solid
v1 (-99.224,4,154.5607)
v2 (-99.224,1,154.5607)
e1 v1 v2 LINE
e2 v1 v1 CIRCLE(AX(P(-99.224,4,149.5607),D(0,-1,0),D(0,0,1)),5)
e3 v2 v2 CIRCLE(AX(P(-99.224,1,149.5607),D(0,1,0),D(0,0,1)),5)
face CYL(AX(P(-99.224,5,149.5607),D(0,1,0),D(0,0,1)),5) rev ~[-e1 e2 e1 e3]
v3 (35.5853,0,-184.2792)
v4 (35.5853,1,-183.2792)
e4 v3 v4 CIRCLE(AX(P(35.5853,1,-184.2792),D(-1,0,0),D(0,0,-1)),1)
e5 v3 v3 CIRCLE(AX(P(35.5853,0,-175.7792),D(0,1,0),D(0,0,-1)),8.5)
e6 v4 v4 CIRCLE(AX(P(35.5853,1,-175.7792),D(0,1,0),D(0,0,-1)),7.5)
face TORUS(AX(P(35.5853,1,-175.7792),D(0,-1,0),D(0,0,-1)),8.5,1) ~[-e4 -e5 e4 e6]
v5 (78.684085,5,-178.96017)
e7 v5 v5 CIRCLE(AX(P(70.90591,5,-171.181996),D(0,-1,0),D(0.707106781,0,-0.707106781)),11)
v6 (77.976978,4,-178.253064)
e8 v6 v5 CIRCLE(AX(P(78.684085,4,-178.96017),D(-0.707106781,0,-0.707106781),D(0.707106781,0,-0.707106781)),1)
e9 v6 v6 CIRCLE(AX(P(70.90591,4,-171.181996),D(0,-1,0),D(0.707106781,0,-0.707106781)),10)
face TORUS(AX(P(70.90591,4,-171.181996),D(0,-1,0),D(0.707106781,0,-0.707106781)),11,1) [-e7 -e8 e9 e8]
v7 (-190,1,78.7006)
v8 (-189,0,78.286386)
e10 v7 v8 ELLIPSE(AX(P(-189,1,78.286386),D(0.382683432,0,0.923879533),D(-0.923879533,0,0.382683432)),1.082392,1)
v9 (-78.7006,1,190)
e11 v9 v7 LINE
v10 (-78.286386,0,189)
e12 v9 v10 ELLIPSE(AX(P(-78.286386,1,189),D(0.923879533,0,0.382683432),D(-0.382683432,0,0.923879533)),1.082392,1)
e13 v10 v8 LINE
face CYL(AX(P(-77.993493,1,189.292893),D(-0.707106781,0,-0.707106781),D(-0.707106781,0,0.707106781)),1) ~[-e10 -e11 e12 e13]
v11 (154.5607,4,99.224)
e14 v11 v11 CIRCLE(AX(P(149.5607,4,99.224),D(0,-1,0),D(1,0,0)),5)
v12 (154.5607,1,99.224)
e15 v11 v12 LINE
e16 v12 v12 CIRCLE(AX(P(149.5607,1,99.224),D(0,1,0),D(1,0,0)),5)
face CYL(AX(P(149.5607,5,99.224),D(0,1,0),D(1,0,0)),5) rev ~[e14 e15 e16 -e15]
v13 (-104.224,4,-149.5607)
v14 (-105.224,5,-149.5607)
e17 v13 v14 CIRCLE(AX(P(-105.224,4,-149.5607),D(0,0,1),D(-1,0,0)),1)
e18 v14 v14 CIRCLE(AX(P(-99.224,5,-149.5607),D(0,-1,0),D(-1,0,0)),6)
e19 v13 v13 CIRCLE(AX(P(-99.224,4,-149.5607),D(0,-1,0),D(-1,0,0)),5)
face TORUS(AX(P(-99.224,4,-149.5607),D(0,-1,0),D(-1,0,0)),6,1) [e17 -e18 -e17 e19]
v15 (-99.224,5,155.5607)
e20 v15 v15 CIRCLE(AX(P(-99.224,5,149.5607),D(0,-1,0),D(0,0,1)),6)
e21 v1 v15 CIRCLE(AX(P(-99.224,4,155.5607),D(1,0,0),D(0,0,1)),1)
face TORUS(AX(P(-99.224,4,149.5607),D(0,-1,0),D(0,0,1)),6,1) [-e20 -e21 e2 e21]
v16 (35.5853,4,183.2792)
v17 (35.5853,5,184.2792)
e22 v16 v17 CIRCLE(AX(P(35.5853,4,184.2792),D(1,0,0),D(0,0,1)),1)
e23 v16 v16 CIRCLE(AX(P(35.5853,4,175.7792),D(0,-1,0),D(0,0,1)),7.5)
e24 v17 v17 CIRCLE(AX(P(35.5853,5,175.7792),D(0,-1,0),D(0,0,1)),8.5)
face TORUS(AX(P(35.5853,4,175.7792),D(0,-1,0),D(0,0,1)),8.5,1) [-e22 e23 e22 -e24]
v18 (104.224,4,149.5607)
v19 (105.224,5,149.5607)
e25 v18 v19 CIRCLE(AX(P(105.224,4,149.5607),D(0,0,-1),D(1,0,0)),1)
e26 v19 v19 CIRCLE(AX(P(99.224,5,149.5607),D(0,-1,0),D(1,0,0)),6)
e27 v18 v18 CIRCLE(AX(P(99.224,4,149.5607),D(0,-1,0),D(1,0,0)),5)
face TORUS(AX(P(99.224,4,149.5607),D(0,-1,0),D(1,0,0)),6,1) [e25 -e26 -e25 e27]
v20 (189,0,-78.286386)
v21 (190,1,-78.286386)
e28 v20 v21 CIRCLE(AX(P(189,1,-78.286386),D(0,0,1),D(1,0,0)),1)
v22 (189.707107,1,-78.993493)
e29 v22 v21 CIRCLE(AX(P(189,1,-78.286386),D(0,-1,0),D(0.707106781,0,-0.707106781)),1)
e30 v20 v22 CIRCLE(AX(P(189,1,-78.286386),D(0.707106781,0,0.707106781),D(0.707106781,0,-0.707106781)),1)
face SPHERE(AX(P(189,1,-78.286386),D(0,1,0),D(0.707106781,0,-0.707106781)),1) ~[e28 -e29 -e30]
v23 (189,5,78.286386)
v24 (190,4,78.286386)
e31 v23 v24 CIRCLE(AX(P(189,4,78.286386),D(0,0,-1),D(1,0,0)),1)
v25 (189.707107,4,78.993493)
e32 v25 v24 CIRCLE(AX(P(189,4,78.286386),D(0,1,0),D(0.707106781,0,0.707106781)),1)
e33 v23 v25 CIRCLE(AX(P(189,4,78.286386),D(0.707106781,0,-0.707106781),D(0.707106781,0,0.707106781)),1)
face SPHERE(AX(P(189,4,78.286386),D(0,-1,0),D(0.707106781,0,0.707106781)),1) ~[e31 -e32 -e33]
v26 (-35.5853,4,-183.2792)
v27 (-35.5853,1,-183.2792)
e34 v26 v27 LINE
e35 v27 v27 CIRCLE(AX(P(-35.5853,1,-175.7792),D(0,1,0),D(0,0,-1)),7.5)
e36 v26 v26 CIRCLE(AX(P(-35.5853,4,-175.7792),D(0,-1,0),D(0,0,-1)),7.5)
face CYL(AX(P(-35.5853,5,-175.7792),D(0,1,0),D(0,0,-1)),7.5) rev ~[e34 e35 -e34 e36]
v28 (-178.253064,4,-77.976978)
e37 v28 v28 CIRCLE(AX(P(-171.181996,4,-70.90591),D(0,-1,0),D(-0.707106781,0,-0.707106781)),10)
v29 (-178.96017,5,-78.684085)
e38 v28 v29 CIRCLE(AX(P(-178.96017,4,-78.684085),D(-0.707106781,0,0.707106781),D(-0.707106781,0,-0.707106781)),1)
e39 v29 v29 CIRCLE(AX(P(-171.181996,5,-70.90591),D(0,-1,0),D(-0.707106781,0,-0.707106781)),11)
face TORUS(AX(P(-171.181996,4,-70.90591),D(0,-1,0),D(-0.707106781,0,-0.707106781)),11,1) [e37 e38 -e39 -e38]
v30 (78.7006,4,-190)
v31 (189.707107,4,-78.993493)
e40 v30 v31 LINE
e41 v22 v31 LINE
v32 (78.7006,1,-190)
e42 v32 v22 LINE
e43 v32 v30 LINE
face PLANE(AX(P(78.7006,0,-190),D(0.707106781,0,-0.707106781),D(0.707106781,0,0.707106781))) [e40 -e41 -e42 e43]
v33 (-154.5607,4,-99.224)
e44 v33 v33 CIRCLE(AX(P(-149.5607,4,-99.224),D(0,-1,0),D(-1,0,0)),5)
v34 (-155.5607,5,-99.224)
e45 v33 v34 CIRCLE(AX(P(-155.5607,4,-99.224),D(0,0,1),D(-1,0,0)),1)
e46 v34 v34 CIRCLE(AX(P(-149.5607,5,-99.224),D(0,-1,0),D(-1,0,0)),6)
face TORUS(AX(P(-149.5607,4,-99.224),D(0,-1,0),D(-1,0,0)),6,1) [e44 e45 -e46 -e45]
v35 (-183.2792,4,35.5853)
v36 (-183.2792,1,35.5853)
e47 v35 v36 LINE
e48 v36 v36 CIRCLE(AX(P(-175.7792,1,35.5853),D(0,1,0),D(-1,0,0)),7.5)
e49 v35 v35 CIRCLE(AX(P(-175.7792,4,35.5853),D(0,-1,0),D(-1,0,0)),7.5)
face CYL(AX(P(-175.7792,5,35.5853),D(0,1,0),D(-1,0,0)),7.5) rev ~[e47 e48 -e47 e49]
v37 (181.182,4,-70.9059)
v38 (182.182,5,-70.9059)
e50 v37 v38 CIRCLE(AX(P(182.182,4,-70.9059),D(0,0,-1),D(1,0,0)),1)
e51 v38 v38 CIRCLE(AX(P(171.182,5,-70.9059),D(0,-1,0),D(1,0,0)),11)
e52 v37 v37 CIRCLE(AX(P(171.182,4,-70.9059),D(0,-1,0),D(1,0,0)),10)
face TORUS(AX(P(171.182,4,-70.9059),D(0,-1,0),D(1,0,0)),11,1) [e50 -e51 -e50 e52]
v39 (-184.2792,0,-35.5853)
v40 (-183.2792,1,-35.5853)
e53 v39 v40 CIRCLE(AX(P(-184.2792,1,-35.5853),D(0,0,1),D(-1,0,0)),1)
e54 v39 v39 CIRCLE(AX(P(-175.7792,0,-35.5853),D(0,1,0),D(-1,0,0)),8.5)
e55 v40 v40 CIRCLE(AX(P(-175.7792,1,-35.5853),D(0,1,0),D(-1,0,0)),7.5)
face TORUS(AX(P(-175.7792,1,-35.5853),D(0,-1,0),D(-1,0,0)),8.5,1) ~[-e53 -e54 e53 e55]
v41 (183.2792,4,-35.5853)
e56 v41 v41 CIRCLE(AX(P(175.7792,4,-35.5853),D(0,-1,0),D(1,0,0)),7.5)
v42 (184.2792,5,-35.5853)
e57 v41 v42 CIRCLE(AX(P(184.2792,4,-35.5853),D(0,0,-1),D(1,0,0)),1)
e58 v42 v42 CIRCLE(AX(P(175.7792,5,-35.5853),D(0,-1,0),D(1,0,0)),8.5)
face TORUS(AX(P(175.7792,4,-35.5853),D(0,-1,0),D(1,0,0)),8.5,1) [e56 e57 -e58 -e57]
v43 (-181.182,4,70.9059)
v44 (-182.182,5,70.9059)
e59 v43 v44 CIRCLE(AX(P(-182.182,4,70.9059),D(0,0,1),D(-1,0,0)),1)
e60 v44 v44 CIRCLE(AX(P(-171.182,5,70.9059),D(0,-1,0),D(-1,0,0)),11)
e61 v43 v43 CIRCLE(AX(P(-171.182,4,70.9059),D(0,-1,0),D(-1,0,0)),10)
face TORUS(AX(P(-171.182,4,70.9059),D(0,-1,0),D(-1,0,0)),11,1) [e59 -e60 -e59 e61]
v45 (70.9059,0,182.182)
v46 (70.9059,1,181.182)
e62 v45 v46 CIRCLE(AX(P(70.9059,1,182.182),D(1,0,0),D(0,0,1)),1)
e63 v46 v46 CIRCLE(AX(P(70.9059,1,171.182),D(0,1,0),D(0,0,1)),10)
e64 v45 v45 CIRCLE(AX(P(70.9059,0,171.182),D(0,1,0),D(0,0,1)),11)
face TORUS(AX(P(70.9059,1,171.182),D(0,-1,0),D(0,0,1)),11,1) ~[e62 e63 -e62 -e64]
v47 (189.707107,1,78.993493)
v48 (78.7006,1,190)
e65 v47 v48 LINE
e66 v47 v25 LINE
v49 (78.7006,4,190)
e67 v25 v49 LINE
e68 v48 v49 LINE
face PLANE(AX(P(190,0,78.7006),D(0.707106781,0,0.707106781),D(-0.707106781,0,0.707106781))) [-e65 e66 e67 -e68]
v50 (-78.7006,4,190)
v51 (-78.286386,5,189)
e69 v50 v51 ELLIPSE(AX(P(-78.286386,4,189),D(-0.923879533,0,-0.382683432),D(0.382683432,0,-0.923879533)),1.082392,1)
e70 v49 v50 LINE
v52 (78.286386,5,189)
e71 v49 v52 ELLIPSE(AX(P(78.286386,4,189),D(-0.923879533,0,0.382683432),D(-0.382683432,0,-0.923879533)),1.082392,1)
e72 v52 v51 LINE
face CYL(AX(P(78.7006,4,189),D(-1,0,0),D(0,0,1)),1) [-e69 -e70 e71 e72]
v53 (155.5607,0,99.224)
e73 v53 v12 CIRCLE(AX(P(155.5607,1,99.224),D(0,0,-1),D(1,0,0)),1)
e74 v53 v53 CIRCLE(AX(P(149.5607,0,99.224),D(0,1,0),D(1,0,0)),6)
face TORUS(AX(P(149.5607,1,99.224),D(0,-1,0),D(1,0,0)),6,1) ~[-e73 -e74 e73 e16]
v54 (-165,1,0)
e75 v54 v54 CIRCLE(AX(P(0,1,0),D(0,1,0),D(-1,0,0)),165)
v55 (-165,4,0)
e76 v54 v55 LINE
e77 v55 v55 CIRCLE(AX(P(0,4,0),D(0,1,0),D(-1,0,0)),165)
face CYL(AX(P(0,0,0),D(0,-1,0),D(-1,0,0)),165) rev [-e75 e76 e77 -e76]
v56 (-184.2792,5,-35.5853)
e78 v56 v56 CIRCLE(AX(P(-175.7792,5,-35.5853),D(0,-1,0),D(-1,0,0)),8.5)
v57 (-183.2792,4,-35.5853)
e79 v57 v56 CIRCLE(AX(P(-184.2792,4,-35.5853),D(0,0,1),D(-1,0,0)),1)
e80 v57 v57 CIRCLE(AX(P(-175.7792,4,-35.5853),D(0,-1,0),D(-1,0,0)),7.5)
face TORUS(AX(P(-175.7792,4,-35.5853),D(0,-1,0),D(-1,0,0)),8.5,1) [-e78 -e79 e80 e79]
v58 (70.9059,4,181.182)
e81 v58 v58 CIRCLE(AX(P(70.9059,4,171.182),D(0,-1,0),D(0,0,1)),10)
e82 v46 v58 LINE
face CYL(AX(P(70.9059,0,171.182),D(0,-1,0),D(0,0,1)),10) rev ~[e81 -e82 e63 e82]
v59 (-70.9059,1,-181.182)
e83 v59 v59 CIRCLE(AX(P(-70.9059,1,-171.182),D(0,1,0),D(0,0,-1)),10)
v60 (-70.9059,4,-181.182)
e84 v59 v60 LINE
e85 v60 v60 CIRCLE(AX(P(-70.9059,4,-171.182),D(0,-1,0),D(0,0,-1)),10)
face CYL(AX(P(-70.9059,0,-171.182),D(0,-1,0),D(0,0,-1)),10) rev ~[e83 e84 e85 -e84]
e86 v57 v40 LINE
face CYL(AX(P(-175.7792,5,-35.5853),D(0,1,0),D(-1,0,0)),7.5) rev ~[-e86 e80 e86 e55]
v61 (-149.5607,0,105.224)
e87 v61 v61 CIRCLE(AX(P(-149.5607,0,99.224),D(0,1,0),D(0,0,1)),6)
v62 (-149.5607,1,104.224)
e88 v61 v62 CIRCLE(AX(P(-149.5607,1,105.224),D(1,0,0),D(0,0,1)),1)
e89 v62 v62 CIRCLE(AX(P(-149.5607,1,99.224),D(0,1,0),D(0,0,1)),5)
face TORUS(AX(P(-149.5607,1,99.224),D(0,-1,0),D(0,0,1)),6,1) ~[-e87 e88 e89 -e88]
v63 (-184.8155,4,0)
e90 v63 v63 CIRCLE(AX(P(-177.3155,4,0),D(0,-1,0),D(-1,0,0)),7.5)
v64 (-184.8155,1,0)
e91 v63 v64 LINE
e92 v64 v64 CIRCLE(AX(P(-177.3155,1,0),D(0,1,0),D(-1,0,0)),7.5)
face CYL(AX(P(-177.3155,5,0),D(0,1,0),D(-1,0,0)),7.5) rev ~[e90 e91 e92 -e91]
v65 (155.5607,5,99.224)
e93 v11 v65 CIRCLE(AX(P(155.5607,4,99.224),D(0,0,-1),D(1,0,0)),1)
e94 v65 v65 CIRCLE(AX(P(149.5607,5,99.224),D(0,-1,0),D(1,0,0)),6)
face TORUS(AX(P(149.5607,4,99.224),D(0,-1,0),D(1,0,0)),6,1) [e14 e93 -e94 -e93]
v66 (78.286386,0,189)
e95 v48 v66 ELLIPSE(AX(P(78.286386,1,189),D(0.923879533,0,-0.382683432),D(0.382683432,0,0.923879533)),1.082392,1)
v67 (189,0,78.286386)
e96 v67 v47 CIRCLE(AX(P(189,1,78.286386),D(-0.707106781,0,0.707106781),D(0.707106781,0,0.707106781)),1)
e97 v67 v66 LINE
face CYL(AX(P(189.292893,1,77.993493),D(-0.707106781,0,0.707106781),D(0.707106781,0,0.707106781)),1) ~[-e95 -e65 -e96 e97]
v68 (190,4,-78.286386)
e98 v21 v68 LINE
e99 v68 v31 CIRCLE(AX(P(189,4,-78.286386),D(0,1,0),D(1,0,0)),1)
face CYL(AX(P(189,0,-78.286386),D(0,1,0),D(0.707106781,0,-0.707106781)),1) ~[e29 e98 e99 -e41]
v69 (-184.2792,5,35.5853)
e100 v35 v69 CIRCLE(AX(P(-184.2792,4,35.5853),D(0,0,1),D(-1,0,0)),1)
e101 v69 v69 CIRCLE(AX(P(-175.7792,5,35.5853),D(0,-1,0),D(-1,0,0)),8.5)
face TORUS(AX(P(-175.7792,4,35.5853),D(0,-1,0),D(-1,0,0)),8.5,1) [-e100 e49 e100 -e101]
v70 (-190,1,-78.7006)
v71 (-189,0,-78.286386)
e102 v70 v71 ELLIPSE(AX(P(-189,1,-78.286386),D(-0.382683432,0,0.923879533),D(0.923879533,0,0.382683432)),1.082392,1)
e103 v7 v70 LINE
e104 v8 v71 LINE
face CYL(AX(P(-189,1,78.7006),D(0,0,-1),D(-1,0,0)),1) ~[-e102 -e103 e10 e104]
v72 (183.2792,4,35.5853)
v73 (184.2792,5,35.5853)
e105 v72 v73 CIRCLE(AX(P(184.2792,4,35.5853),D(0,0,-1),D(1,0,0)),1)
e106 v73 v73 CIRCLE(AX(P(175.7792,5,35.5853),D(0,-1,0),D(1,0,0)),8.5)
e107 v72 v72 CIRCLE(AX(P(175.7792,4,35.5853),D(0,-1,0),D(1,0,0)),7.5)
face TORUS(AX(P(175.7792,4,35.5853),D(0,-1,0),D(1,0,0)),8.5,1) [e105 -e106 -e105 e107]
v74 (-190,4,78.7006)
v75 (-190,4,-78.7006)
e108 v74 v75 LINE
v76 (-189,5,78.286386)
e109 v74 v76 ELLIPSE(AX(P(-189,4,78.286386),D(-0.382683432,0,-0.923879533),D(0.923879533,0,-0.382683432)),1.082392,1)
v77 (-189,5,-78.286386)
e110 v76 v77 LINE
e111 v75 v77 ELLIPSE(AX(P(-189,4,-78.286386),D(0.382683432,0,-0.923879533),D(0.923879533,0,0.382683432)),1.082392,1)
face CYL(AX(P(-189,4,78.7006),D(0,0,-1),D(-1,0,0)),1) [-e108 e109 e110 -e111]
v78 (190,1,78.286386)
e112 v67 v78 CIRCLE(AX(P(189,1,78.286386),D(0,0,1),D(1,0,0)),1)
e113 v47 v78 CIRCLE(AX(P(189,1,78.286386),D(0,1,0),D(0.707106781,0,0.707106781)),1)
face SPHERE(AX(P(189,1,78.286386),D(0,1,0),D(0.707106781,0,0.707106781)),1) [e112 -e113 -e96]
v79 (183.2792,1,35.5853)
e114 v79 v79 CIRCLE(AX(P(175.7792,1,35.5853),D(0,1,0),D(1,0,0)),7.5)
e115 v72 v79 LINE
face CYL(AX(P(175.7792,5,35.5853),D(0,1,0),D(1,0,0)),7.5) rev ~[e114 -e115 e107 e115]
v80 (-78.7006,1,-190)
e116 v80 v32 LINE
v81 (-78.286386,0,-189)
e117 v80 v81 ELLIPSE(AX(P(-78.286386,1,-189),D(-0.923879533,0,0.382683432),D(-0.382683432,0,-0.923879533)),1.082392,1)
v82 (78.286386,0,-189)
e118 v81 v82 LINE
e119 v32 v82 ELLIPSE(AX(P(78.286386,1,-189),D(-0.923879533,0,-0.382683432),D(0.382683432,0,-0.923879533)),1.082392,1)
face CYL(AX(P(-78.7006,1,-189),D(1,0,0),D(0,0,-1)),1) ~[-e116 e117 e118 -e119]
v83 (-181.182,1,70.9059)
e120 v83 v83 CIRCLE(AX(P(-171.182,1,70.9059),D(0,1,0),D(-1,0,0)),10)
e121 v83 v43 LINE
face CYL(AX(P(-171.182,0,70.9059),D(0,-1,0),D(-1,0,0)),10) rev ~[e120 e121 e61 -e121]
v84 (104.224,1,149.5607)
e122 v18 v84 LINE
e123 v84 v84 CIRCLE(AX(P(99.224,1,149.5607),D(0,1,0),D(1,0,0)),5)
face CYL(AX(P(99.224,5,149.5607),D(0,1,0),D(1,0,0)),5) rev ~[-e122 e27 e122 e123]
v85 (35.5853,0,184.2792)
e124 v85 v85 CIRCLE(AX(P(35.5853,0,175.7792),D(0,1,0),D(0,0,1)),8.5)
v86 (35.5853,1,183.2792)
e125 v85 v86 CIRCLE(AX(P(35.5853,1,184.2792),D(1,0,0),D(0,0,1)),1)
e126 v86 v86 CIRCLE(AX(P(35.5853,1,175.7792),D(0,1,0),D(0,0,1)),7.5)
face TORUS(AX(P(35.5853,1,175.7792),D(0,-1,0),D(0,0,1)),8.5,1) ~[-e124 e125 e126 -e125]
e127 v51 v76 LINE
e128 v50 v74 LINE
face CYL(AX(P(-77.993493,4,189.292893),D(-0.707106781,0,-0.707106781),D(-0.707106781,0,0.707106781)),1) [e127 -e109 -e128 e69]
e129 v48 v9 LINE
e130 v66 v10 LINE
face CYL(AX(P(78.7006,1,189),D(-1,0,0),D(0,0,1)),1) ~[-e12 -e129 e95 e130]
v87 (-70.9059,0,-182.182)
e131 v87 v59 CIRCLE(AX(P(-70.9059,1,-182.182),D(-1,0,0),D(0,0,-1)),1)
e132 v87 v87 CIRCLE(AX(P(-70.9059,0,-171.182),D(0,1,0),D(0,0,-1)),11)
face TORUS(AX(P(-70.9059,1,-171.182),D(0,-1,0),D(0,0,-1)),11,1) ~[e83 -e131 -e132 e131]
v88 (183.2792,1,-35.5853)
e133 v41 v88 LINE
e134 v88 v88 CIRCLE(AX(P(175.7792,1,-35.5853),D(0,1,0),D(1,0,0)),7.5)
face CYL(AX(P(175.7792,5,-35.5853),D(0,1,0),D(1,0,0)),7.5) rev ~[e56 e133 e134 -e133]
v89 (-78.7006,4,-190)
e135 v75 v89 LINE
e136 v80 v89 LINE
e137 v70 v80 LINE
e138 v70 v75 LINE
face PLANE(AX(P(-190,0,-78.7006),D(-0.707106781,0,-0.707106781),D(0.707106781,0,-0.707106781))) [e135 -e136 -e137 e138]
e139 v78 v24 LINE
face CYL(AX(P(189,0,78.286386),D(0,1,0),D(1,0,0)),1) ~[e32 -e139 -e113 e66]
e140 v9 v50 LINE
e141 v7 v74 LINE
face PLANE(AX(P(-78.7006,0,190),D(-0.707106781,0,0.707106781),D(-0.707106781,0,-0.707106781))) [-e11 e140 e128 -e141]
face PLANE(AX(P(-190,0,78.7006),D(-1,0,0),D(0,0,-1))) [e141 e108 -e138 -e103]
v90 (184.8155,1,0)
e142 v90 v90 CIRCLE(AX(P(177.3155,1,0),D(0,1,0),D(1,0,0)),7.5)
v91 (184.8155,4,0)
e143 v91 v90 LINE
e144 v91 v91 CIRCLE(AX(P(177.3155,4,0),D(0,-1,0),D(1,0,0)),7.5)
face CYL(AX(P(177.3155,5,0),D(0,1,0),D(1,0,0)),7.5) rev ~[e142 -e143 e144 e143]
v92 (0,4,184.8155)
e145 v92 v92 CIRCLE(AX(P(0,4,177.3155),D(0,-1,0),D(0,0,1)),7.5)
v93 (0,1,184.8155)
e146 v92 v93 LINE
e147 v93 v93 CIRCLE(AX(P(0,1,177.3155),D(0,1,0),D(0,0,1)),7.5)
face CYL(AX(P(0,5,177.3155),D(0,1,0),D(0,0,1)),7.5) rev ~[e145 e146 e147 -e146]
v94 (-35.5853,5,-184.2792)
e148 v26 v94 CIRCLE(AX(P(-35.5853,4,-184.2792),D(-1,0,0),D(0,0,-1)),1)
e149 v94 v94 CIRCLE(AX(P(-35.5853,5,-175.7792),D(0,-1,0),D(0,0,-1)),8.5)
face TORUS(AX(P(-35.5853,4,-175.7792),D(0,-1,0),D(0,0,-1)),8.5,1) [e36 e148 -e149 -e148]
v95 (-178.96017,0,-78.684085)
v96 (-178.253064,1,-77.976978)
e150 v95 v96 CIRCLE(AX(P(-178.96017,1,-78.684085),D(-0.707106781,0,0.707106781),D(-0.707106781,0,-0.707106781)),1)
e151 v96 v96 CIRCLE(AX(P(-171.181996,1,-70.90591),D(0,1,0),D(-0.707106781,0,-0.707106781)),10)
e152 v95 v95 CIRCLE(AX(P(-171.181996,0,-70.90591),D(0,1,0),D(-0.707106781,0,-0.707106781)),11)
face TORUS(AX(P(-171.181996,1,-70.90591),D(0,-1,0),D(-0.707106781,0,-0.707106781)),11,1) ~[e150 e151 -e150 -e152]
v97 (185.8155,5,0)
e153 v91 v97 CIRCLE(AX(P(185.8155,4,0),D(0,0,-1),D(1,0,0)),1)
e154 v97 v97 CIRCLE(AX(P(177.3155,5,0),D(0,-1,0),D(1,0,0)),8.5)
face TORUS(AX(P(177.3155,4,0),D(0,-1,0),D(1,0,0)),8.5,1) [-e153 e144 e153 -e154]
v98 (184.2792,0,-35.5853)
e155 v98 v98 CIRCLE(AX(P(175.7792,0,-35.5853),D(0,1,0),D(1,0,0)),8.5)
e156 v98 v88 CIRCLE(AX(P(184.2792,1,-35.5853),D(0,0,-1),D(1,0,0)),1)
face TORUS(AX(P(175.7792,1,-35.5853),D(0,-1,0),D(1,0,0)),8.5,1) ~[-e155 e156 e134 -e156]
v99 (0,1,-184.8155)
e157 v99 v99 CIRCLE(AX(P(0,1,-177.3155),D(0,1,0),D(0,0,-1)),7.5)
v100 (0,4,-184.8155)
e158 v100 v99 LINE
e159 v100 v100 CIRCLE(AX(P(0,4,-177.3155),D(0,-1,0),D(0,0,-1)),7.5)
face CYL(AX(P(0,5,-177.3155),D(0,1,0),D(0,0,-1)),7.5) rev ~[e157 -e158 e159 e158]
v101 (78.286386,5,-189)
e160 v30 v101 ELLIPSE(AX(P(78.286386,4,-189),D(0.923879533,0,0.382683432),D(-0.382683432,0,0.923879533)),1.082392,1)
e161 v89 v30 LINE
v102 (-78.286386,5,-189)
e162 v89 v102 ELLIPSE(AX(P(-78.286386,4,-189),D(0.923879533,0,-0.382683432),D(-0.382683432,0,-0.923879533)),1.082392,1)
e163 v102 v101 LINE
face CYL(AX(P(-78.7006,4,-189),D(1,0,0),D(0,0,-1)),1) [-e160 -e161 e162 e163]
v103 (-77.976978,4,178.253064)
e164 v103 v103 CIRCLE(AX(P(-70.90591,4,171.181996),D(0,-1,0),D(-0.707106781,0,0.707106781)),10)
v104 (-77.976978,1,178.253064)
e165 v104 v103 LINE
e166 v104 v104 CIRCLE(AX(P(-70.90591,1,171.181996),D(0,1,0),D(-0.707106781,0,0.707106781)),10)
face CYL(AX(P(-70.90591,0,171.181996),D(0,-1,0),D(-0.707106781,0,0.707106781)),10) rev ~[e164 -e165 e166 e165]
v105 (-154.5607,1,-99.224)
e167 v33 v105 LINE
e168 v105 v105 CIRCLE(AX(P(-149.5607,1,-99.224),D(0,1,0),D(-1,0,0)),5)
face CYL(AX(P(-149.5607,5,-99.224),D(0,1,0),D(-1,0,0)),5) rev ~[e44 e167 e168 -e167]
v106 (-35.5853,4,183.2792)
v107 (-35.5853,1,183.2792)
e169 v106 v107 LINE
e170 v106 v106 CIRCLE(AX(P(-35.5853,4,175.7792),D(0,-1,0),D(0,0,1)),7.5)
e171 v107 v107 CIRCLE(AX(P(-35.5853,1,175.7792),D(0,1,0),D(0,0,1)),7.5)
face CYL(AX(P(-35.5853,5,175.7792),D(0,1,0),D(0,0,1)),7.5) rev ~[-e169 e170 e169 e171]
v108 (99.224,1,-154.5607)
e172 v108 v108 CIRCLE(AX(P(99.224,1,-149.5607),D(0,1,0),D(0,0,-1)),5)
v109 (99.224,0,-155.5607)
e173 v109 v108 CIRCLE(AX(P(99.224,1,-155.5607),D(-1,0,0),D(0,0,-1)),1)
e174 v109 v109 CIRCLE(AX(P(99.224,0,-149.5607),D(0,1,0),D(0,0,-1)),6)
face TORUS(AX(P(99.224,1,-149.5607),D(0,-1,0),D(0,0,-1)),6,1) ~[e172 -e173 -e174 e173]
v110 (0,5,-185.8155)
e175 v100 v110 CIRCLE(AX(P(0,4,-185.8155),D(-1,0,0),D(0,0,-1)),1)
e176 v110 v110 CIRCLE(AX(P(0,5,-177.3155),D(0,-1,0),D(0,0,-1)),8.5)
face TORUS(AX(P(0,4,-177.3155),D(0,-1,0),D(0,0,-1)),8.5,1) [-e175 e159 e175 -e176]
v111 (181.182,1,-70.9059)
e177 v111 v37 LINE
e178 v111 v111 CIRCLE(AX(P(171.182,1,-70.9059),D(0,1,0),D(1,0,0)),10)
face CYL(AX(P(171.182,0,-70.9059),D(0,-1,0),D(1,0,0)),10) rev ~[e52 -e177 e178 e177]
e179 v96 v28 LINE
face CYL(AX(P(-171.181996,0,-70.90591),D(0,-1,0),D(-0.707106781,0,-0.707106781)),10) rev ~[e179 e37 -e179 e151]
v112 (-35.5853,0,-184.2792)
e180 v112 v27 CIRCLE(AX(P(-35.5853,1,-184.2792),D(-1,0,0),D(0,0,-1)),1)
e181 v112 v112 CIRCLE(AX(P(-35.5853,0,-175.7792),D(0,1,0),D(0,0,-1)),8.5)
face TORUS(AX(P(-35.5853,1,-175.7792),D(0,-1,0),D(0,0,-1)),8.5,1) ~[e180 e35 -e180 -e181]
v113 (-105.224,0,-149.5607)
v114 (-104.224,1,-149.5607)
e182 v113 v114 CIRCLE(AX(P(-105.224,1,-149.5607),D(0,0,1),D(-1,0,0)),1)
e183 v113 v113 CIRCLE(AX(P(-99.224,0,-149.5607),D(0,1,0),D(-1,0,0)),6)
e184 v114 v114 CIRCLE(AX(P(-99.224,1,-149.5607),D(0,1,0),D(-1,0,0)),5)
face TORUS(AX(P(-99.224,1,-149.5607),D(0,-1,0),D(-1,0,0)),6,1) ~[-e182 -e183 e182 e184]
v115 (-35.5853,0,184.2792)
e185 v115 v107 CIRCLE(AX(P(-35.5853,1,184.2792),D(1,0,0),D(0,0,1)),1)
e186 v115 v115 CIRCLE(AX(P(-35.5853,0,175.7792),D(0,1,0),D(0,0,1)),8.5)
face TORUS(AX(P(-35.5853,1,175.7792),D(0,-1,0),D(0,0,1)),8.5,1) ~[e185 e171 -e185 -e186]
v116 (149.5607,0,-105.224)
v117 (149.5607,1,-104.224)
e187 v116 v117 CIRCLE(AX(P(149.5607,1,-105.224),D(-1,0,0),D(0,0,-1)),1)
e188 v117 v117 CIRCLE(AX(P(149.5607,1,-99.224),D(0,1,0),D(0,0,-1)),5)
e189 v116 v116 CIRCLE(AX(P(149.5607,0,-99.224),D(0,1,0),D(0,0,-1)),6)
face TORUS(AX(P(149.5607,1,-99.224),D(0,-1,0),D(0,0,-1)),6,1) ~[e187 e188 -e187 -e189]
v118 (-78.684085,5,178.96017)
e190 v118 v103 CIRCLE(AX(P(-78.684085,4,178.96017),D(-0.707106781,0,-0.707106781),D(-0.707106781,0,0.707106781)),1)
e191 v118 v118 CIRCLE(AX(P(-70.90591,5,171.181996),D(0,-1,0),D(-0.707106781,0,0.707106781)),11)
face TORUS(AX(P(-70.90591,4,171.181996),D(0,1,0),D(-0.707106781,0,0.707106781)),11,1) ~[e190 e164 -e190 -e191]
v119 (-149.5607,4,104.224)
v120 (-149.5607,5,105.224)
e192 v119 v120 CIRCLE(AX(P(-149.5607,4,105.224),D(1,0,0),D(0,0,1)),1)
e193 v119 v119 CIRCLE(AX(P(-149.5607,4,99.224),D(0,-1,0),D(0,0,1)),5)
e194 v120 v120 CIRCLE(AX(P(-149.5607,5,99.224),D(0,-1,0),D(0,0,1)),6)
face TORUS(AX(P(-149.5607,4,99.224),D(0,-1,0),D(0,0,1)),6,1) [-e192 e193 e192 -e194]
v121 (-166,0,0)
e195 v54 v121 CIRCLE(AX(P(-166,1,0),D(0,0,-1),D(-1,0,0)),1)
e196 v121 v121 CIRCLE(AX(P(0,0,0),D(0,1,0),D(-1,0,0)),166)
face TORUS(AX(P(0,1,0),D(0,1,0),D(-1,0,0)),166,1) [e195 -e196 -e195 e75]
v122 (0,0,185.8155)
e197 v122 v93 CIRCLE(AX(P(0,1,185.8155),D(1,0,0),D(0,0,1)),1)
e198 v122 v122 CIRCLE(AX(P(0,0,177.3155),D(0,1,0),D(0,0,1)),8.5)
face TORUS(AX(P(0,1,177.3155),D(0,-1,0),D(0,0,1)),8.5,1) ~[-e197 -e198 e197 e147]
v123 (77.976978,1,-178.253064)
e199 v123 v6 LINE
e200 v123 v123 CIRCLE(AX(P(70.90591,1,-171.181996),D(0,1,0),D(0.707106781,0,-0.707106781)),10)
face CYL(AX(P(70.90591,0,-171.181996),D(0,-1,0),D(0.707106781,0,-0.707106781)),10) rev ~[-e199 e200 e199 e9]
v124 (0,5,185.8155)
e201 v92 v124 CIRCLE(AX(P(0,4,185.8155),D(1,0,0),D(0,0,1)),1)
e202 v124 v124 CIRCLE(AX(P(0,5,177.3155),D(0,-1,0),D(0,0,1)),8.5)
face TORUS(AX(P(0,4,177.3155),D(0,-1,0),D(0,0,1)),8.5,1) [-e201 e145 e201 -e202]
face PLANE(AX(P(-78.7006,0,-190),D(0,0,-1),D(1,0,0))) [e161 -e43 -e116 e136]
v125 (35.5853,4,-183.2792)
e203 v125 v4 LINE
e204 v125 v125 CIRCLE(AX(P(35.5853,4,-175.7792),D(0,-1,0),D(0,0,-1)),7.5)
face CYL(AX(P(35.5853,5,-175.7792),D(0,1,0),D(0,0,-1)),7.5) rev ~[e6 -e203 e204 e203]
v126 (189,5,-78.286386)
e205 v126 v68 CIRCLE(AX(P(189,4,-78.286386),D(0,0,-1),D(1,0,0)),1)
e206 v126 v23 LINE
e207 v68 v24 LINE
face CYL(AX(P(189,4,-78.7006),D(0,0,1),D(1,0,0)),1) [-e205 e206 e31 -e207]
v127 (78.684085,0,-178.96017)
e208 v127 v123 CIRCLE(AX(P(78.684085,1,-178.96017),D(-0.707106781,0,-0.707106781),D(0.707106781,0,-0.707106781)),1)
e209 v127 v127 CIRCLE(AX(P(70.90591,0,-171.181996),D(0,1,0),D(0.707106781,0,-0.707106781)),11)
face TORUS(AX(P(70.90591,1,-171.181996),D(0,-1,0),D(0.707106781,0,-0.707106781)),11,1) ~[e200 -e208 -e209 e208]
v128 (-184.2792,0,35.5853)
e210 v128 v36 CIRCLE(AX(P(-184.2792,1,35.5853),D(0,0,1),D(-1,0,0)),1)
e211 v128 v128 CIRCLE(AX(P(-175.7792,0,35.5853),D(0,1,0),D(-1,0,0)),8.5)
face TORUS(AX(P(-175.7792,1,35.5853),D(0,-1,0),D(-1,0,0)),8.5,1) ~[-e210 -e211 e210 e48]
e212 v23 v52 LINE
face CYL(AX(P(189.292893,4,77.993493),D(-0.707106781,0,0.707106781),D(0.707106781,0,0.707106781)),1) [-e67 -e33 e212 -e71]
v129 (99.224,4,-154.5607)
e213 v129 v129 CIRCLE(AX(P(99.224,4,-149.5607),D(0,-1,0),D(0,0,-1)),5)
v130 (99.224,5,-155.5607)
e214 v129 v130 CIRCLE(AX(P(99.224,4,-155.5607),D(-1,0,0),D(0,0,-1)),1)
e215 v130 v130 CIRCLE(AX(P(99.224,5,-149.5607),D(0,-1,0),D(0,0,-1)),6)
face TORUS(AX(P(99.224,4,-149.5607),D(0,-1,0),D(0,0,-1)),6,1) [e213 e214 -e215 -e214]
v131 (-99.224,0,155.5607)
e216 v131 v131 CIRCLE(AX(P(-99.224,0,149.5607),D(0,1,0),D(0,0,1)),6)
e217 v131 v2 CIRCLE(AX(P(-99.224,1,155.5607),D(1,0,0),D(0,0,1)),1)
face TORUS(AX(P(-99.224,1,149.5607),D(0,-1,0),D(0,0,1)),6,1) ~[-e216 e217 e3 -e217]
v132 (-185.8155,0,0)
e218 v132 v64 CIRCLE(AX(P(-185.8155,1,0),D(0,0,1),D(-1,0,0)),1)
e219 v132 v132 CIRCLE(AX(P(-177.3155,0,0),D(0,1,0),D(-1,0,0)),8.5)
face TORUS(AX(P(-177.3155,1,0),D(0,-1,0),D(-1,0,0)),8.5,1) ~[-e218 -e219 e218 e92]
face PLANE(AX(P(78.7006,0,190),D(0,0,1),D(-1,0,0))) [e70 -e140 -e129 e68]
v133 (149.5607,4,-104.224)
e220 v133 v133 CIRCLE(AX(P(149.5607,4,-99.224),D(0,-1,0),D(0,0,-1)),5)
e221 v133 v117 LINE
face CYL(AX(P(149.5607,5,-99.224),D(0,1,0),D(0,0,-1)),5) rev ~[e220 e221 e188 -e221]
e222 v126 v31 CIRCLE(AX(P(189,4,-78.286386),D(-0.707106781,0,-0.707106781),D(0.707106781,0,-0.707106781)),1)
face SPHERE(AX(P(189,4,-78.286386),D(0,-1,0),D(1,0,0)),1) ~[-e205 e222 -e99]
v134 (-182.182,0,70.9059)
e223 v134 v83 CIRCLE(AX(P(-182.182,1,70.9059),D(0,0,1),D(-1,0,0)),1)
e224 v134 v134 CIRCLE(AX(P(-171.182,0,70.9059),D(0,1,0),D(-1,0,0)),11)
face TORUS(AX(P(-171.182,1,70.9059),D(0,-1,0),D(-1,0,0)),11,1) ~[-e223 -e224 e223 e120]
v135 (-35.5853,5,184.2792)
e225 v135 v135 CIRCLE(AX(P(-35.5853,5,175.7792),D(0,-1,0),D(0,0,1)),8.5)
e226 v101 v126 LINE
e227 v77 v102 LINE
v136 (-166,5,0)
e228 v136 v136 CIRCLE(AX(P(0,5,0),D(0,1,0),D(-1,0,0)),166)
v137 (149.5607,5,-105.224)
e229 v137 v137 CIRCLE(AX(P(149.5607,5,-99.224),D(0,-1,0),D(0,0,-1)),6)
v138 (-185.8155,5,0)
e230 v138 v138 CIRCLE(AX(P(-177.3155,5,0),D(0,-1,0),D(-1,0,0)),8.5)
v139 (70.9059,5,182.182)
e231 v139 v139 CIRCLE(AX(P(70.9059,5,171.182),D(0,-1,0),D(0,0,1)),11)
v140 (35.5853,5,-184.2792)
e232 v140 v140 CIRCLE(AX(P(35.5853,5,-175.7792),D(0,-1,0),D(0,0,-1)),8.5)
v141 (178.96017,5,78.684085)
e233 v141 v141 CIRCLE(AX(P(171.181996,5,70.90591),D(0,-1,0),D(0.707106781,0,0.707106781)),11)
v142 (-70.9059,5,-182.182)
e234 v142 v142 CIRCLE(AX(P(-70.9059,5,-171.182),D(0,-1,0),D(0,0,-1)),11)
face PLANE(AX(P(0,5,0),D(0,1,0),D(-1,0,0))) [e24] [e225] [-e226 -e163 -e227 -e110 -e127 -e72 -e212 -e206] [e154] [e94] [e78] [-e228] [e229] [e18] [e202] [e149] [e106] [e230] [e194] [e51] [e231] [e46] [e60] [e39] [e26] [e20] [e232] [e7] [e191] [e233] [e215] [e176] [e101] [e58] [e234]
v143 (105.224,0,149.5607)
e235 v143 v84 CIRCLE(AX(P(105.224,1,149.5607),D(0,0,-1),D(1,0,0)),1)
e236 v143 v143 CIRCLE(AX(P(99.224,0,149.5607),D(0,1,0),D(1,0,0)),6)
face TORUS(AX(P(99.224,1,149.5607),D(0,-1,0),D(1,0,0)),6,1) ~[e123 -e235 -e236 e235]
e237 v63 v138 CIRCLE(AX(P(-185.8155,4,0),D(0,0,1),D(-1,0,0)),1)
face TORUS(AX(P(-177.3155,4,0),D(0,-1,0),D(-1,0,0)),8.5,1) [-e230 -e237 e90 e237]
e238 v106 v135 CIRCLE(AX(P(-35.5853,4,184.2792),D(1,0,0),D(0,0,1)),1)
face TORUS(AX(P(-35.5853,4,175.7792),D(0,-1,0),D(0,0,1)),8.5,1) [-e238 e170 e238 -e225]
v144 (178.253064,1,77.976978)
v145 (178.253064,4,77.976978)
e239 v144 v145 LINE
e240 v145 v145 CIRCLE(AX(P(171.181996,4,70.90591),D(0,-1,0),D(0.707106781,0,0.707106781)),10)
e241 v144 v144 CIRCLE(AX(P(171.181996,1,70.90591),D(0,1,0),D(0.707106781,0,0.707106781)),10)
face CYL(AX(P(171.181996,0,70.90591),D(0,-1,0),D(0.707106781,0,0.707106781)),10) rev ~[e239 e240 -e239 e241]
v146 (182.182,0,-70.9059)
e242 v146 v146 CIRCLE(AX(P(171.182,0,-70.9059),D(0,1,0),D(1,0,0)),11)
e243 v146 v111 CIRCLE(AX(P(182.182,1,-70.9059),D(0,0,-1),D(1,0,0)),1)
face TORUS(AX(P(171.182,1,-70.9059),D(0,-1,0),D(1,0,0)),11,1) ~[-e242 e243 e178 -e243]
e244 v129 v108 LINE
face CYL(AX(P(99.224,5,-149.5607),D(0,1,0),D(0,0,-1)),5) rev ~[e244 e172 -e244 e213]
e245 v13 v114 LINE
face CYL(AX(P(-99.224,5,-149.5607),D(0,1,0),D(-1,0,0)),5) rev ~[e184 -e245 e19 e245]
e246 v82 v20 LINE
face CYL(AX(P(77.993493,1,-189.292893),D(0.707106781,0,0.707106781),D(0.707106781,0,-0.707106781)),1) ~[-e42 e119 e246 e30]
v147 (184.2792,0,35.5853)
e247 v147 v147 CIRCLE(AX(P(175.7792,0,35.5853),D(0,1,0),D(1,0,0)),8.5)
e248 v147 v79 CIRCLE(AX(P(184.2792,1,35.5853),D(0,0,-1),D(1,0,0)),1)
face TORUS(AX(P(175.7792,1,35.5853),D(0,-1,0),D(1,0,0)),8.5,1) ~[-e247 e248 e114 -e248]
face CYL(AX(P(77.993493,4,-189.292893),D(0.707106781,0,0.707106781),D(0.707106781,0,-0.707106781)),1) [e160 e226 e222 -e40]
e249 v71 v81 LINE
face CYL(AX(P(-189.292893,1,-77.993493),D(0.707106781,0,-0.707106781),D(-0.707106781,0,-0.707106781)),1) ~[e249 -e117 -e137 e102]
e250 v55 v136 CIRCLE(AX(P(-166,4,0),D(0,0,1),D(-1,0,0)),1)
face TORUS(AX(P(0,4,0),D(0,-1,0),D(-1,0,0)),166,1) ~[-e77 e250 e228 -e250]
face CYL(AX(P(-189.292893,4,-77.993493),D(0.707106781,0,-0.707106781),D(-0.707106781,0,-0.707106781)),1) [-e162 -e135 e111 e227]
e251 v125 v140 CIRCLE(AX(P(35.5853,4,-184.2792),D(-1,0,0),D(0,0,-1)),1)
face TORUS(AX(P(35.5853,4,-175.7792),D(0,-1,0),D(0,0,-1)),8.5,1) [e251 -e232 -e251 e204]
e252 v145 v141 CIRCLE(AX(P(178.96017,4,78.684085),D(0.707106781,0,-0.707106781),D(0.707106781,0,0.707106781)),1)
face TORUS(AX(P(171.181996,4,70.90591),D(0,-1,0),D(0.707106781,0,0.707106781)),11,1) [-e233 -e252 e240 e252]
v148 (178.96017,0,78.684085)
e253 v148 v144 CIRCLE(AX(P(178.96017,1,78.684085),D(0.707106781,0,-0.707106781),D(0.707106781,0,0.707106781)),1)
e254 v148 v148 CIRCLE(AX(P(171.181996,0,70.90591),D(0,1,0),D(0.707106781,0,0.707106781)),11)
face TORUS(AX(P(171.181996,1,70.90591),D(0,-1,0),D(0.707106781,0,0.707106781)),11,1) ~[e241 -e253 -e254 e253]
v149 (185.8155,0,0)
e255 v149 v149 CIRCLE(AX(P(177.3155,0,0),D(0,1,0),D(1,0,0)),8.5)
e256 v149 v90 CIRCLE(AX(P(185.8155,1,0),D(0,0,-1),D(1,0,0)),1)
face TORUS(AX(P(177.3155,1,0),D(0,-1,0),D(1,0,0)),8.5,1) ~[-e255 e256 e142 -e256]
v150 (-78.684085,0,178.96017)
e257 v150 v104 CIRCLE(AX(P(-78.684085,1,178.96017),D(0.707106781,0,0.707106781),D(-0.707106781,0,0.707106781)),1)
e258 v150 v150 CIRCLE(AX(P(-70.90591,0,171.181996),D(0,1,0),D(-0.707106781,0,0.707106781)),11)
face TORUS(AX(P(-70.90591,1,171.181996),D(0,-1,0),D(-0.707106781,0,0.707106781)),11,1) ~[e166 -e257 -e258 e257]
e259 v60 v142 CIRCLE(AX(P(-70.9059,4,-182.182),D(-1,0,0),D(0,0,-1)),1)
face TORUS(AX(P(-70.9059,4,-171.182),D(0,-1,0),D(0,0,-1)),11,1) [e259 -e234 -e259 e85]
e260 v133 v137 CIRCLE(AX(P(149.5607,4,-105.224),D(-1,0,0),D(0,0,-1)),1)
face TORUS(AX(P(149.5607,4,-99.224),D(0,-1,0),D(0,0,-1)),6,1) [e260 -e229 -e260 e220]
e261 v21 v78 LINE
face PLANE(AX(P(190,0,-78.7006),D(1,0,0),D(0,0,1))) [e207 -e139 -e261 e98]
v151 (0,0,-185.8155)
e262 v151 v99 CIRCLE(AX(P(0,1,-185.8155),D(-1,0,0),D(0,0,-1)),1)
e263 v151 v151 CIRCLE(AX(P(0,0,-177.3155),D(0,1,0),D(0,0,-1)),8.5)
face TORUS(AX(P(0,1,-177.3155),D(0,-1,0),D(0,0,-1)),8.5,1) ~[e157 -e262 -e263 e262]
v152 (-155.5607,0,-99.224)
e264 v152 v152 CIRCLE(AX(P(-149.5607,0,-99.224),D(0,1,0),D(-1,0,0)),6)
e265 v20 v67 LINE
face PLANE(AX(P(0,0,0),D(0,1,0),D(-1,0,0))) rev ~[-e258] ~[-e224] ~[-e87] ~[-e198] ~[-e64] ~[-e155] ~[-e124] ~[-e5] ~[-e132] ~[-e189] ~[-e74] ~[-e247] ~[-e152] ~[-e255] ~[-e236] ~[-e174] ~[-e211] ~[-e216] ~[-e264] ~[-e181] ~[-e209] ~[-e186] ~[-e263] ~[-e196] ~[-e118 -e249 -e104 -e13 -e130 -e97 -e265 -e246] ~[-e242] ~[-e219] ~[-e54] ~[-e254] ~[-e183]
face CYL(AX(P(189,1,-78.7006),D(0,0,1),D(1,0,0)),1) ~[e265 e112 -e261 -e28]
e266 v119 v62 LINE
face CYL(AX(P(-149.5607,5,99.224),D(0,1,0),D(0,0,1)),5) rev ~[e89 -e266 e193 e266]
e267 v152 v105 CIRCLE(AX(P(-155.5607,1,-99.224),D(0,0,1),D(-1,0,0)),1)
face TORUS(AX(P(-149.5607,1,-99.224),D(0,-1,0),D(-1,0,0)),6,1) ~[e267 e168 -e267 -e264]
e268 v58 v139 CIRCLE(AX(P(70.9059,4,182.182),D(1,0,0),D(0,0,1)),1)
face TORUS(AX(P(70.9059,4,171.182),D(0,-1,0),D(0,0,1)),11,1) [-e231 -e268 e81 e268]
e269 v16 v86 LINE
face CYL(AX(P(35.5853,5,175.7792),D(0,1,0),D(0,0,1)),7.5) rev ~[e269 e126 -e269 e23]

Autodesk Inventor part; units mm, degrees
ref_plane "YZ Plane" through (0, 0, 0) normal (1, 0, 0) x (0, 1, 0)
ref_plane "XZ Plane" through (0, 0, 0) normal (0, 1, 0) x (-1, 0, 0)
ref_plane "XY Plane" through (0, 0, 0) normal (0, 0, 1) x (1, 0, 0)
sketch "Sketch1" plane through (0, 0, 0) normal (0, 1, 0) x (-1, 0, 0)
  line L0 (-78.7006, -190) -> (-190, -78.7006)
  line L1 (-190, -78.7006) -> (-190, 78.7006)
  line L2 (-190, 78.7006) -> (-78.7006, 190)
  line L3 (-78.7006, 190) -> (78.7006, 190)
  line L4 (78.7006, 190) -> (190, 78.7006)
  line L5 (190, 78.7006) -> (190, -78.7006)
  line L6 (190, -78.7006) -> (78.7006, -190)
  line L7 (78.7006, -190) -> (-78.7006, -190)
  circle A0 centre (0, 0) radius 165
  point P0 (0, 190)
  point P1 (0, -190)
  dimension "d0" = 380
  dimension "d1" = 330
extrude "Extrusion1" add sketch "Sketch1" along normal blind 5
fillet "Fillet1" radius 1 20 edges at (-134.3503, 5, -134.3503) (-190, 5, 0) (-134.3503, 5, 134.3503) (0, 5, 190) (134.3503, 5, 134.3503) (190, 5, 0) (134.3503, 5, -134.3503) (0, 5, -190) (190, 0, 0) (190, 2.5, -78.7006) (190, 2.5, 78.7006) (-134.3503, 0, -134.3503) (0, 0, -190) (134.3503, 0, -134.3503) (134.3503, 0, 134.3503) (0, 0, 190) (-134.3503, 0, 134.3503) (-190, 0, 0) (165, 5, 0) (165, 0, 0)
sketch "Sketch3" plane through (0, 0, 0) normal (0, -1, 0) x (1, 0, 0)
  line L0 (189, 78.2864) -> (78.2864, 189) projected
  circle A0 centre (0, 0) radius 165 projected
  line L1 (189, -78.2864) -> (189, 78.2864) projected
  line L2 (78.2864, -189) -> (189, -78.2864) projected
  circle A1 centre (0, 0) radius 166 projected
  circle A2 centre (171.182, -70.9059) radius 10
  line L3 (189, -78.2864) -> (180.4208, -74.7327)
  line L4 (161.9432, -67.0791) -> (153.364, -63.5254)
  dimension "d57" = 20
extrude "Extrusion2" cut sketch "Sketch3" against normal blind 5 contours A2
pattern_circular "Circular Pattern1" count 8 over 360 about axis through (0, -10, 0) along (0, 1, 0) of "Extrusion2"
fillet "Fillet4" radius 1 2 edges at (-63.8348, 0, 164.1109) (-63.8348, 5, 164.1109)
pattern_circular "Circular Pattern6" count 8 over 360 about axis through (0, -10, 0) along (0, 1, 0) of "Fillet4"
sketch "Sketch5" plane through (0, 5, 0) normal (0, 1, 0) x (1, 0, 0)
  line L0 (190, -78.2864) -> (189, -78.2864) projected
  line L1 (189, -78.2864) -> (153.364, -63.5254)
  circle A0 centre (0, 0) radius 166 projected
  line L2 (189, 78.2864) -> (153.364, 63.5254)
  circle A1 centre (171.182, 70.9059) radius 10
  line L3 (177.3155, 0) -> (166, 0)
  line L4 (187, 0) -> (166, 0)
  line L5 (166, 0) -> (189, 0)
  arc A2 (171.182, -70.9059) -> (177.3155, 0) centre (-235.6051, 0) ccw
  circle A3 centre (177.3155, 0) radius 7.5
  arc A4 (177.3155, 0) -> (171.182, 70.9059) centre (-235.6051, 0) ccw
  circle A5 centre (175.7792, 35.5853) radius 7.5
  circle A6 centre (175.7792, -35.5853) radius 7.5
  circle A7 centre (35.5853, 175.7792) radius 7.5
  circle A8 centre (0, 177.3155) radius 7.5
  circle A9 centre (-35.5853, 175.7792) radius 7.5
  circle A10 centre (-175.7792, 35.5853) radius 7.5
  circle A11 centre (-177.3155, 0) radius 7.5
  circle A12 centre (-175.7792, -35.5853) radius 7.5
  circle A13 centre (-35.5853, -175.7792) radius 7.5
  circle A14 centre (0, -177.3155) radius 7.5
  circle A15 centre (35.5853, -175.7792) radius 7.5
  point P0 (162.508, 31.7784)
  dimension "d22" = 45
  dimension "d62" = 20
  dimension "d63" = 15
  dimension "d64" = 15
  dimension "d65" = 15
  dimension "d68" = 360
extrude "Extrusion3" cut sketch "Sketch5" against normal blind 5 contours A6 A2 | A2 A6 | A3 A4 L3 | L3 A2 A3 | A2 L4 A3 | A4 A3 L4 | A5 A4 | A4 A5
pattern_circular "Circular Pattern7" count 4 over 360 about axis through (0, -10, 0) along (0, 1, 0) of "Extrusion3"
sketch "Sketch8" plane through (0, 5, 0) normal (0, 1, 0) x (1, 0, 0)
  line L0 (189, 78.2864) -> (189, -78.2864) projected
  line L1 (189, -78.2864) -> (153.364, -63.5254)
  circle A0 centre (0, 0) radius 166 projected
  line L2 (78.2864, -189) -> (63.5254, -153.364)
  line L3 (189, 0) -> (166, 0)
  line L4 (133.6432, -133.6432) -> (117.3797, -117.3797)
  arc A1 (70.9059, -171.182) -> (125.5115, -125.5115) centre (-158.068, 158.068) ccw
  arc A2 (125.5115, -125.5115) -> (171.182, -70.9059) centre (-158.068, 158.068) ccw
  circle A3 centre (149.5607, -99.224) radius 5
  circle A4 centre (99.224, -149.5607) radius 5
  dimension "d75" = 45
  dimension "d79" = 45
  dimension "d81" = 10
  dimension "d82" = 10
extrude "Extrusion5" cut sketch "Sketch8" against normal blind 5 contours A3 A2 | A2 A3 | A4 A1 | A1 A4
pattern_circular "Circular Pattern8" count 4 over 360 about axis through (0, -10, 0) along (0, 1, 0) of "Extrusion5"
fillet "Fillet5" radius 1 10 edges at (35.5853, 5, 168.2792) (35.5853, 0, 168.2792) (0, 5, 169.8155) (0, 0, 169.8155) (-35.5853, 5, 168.2792) (-35.5853, 0, 168.2792) (94.224, 5, 149.5607) (94.224, 0, 149.5607) (144.5607, 5, 99.224) (144.5607, 0, 99.224)
pattern_circular "Circular Pattern9" count 4 over 360 about axis through (0, -10, 0) along (0, 1, 0) of "Fillet5"
sketch "Sketch9" plane through (0, 5, 0) normal (0, 1, 0) x (1, 0, 0)
  line L0 (-184.8155, 0) -> (-169.8155, 0)
  circle A0 centre (-177.3155, 0) radius 7.5 projected
  point P0 (0, 0)
